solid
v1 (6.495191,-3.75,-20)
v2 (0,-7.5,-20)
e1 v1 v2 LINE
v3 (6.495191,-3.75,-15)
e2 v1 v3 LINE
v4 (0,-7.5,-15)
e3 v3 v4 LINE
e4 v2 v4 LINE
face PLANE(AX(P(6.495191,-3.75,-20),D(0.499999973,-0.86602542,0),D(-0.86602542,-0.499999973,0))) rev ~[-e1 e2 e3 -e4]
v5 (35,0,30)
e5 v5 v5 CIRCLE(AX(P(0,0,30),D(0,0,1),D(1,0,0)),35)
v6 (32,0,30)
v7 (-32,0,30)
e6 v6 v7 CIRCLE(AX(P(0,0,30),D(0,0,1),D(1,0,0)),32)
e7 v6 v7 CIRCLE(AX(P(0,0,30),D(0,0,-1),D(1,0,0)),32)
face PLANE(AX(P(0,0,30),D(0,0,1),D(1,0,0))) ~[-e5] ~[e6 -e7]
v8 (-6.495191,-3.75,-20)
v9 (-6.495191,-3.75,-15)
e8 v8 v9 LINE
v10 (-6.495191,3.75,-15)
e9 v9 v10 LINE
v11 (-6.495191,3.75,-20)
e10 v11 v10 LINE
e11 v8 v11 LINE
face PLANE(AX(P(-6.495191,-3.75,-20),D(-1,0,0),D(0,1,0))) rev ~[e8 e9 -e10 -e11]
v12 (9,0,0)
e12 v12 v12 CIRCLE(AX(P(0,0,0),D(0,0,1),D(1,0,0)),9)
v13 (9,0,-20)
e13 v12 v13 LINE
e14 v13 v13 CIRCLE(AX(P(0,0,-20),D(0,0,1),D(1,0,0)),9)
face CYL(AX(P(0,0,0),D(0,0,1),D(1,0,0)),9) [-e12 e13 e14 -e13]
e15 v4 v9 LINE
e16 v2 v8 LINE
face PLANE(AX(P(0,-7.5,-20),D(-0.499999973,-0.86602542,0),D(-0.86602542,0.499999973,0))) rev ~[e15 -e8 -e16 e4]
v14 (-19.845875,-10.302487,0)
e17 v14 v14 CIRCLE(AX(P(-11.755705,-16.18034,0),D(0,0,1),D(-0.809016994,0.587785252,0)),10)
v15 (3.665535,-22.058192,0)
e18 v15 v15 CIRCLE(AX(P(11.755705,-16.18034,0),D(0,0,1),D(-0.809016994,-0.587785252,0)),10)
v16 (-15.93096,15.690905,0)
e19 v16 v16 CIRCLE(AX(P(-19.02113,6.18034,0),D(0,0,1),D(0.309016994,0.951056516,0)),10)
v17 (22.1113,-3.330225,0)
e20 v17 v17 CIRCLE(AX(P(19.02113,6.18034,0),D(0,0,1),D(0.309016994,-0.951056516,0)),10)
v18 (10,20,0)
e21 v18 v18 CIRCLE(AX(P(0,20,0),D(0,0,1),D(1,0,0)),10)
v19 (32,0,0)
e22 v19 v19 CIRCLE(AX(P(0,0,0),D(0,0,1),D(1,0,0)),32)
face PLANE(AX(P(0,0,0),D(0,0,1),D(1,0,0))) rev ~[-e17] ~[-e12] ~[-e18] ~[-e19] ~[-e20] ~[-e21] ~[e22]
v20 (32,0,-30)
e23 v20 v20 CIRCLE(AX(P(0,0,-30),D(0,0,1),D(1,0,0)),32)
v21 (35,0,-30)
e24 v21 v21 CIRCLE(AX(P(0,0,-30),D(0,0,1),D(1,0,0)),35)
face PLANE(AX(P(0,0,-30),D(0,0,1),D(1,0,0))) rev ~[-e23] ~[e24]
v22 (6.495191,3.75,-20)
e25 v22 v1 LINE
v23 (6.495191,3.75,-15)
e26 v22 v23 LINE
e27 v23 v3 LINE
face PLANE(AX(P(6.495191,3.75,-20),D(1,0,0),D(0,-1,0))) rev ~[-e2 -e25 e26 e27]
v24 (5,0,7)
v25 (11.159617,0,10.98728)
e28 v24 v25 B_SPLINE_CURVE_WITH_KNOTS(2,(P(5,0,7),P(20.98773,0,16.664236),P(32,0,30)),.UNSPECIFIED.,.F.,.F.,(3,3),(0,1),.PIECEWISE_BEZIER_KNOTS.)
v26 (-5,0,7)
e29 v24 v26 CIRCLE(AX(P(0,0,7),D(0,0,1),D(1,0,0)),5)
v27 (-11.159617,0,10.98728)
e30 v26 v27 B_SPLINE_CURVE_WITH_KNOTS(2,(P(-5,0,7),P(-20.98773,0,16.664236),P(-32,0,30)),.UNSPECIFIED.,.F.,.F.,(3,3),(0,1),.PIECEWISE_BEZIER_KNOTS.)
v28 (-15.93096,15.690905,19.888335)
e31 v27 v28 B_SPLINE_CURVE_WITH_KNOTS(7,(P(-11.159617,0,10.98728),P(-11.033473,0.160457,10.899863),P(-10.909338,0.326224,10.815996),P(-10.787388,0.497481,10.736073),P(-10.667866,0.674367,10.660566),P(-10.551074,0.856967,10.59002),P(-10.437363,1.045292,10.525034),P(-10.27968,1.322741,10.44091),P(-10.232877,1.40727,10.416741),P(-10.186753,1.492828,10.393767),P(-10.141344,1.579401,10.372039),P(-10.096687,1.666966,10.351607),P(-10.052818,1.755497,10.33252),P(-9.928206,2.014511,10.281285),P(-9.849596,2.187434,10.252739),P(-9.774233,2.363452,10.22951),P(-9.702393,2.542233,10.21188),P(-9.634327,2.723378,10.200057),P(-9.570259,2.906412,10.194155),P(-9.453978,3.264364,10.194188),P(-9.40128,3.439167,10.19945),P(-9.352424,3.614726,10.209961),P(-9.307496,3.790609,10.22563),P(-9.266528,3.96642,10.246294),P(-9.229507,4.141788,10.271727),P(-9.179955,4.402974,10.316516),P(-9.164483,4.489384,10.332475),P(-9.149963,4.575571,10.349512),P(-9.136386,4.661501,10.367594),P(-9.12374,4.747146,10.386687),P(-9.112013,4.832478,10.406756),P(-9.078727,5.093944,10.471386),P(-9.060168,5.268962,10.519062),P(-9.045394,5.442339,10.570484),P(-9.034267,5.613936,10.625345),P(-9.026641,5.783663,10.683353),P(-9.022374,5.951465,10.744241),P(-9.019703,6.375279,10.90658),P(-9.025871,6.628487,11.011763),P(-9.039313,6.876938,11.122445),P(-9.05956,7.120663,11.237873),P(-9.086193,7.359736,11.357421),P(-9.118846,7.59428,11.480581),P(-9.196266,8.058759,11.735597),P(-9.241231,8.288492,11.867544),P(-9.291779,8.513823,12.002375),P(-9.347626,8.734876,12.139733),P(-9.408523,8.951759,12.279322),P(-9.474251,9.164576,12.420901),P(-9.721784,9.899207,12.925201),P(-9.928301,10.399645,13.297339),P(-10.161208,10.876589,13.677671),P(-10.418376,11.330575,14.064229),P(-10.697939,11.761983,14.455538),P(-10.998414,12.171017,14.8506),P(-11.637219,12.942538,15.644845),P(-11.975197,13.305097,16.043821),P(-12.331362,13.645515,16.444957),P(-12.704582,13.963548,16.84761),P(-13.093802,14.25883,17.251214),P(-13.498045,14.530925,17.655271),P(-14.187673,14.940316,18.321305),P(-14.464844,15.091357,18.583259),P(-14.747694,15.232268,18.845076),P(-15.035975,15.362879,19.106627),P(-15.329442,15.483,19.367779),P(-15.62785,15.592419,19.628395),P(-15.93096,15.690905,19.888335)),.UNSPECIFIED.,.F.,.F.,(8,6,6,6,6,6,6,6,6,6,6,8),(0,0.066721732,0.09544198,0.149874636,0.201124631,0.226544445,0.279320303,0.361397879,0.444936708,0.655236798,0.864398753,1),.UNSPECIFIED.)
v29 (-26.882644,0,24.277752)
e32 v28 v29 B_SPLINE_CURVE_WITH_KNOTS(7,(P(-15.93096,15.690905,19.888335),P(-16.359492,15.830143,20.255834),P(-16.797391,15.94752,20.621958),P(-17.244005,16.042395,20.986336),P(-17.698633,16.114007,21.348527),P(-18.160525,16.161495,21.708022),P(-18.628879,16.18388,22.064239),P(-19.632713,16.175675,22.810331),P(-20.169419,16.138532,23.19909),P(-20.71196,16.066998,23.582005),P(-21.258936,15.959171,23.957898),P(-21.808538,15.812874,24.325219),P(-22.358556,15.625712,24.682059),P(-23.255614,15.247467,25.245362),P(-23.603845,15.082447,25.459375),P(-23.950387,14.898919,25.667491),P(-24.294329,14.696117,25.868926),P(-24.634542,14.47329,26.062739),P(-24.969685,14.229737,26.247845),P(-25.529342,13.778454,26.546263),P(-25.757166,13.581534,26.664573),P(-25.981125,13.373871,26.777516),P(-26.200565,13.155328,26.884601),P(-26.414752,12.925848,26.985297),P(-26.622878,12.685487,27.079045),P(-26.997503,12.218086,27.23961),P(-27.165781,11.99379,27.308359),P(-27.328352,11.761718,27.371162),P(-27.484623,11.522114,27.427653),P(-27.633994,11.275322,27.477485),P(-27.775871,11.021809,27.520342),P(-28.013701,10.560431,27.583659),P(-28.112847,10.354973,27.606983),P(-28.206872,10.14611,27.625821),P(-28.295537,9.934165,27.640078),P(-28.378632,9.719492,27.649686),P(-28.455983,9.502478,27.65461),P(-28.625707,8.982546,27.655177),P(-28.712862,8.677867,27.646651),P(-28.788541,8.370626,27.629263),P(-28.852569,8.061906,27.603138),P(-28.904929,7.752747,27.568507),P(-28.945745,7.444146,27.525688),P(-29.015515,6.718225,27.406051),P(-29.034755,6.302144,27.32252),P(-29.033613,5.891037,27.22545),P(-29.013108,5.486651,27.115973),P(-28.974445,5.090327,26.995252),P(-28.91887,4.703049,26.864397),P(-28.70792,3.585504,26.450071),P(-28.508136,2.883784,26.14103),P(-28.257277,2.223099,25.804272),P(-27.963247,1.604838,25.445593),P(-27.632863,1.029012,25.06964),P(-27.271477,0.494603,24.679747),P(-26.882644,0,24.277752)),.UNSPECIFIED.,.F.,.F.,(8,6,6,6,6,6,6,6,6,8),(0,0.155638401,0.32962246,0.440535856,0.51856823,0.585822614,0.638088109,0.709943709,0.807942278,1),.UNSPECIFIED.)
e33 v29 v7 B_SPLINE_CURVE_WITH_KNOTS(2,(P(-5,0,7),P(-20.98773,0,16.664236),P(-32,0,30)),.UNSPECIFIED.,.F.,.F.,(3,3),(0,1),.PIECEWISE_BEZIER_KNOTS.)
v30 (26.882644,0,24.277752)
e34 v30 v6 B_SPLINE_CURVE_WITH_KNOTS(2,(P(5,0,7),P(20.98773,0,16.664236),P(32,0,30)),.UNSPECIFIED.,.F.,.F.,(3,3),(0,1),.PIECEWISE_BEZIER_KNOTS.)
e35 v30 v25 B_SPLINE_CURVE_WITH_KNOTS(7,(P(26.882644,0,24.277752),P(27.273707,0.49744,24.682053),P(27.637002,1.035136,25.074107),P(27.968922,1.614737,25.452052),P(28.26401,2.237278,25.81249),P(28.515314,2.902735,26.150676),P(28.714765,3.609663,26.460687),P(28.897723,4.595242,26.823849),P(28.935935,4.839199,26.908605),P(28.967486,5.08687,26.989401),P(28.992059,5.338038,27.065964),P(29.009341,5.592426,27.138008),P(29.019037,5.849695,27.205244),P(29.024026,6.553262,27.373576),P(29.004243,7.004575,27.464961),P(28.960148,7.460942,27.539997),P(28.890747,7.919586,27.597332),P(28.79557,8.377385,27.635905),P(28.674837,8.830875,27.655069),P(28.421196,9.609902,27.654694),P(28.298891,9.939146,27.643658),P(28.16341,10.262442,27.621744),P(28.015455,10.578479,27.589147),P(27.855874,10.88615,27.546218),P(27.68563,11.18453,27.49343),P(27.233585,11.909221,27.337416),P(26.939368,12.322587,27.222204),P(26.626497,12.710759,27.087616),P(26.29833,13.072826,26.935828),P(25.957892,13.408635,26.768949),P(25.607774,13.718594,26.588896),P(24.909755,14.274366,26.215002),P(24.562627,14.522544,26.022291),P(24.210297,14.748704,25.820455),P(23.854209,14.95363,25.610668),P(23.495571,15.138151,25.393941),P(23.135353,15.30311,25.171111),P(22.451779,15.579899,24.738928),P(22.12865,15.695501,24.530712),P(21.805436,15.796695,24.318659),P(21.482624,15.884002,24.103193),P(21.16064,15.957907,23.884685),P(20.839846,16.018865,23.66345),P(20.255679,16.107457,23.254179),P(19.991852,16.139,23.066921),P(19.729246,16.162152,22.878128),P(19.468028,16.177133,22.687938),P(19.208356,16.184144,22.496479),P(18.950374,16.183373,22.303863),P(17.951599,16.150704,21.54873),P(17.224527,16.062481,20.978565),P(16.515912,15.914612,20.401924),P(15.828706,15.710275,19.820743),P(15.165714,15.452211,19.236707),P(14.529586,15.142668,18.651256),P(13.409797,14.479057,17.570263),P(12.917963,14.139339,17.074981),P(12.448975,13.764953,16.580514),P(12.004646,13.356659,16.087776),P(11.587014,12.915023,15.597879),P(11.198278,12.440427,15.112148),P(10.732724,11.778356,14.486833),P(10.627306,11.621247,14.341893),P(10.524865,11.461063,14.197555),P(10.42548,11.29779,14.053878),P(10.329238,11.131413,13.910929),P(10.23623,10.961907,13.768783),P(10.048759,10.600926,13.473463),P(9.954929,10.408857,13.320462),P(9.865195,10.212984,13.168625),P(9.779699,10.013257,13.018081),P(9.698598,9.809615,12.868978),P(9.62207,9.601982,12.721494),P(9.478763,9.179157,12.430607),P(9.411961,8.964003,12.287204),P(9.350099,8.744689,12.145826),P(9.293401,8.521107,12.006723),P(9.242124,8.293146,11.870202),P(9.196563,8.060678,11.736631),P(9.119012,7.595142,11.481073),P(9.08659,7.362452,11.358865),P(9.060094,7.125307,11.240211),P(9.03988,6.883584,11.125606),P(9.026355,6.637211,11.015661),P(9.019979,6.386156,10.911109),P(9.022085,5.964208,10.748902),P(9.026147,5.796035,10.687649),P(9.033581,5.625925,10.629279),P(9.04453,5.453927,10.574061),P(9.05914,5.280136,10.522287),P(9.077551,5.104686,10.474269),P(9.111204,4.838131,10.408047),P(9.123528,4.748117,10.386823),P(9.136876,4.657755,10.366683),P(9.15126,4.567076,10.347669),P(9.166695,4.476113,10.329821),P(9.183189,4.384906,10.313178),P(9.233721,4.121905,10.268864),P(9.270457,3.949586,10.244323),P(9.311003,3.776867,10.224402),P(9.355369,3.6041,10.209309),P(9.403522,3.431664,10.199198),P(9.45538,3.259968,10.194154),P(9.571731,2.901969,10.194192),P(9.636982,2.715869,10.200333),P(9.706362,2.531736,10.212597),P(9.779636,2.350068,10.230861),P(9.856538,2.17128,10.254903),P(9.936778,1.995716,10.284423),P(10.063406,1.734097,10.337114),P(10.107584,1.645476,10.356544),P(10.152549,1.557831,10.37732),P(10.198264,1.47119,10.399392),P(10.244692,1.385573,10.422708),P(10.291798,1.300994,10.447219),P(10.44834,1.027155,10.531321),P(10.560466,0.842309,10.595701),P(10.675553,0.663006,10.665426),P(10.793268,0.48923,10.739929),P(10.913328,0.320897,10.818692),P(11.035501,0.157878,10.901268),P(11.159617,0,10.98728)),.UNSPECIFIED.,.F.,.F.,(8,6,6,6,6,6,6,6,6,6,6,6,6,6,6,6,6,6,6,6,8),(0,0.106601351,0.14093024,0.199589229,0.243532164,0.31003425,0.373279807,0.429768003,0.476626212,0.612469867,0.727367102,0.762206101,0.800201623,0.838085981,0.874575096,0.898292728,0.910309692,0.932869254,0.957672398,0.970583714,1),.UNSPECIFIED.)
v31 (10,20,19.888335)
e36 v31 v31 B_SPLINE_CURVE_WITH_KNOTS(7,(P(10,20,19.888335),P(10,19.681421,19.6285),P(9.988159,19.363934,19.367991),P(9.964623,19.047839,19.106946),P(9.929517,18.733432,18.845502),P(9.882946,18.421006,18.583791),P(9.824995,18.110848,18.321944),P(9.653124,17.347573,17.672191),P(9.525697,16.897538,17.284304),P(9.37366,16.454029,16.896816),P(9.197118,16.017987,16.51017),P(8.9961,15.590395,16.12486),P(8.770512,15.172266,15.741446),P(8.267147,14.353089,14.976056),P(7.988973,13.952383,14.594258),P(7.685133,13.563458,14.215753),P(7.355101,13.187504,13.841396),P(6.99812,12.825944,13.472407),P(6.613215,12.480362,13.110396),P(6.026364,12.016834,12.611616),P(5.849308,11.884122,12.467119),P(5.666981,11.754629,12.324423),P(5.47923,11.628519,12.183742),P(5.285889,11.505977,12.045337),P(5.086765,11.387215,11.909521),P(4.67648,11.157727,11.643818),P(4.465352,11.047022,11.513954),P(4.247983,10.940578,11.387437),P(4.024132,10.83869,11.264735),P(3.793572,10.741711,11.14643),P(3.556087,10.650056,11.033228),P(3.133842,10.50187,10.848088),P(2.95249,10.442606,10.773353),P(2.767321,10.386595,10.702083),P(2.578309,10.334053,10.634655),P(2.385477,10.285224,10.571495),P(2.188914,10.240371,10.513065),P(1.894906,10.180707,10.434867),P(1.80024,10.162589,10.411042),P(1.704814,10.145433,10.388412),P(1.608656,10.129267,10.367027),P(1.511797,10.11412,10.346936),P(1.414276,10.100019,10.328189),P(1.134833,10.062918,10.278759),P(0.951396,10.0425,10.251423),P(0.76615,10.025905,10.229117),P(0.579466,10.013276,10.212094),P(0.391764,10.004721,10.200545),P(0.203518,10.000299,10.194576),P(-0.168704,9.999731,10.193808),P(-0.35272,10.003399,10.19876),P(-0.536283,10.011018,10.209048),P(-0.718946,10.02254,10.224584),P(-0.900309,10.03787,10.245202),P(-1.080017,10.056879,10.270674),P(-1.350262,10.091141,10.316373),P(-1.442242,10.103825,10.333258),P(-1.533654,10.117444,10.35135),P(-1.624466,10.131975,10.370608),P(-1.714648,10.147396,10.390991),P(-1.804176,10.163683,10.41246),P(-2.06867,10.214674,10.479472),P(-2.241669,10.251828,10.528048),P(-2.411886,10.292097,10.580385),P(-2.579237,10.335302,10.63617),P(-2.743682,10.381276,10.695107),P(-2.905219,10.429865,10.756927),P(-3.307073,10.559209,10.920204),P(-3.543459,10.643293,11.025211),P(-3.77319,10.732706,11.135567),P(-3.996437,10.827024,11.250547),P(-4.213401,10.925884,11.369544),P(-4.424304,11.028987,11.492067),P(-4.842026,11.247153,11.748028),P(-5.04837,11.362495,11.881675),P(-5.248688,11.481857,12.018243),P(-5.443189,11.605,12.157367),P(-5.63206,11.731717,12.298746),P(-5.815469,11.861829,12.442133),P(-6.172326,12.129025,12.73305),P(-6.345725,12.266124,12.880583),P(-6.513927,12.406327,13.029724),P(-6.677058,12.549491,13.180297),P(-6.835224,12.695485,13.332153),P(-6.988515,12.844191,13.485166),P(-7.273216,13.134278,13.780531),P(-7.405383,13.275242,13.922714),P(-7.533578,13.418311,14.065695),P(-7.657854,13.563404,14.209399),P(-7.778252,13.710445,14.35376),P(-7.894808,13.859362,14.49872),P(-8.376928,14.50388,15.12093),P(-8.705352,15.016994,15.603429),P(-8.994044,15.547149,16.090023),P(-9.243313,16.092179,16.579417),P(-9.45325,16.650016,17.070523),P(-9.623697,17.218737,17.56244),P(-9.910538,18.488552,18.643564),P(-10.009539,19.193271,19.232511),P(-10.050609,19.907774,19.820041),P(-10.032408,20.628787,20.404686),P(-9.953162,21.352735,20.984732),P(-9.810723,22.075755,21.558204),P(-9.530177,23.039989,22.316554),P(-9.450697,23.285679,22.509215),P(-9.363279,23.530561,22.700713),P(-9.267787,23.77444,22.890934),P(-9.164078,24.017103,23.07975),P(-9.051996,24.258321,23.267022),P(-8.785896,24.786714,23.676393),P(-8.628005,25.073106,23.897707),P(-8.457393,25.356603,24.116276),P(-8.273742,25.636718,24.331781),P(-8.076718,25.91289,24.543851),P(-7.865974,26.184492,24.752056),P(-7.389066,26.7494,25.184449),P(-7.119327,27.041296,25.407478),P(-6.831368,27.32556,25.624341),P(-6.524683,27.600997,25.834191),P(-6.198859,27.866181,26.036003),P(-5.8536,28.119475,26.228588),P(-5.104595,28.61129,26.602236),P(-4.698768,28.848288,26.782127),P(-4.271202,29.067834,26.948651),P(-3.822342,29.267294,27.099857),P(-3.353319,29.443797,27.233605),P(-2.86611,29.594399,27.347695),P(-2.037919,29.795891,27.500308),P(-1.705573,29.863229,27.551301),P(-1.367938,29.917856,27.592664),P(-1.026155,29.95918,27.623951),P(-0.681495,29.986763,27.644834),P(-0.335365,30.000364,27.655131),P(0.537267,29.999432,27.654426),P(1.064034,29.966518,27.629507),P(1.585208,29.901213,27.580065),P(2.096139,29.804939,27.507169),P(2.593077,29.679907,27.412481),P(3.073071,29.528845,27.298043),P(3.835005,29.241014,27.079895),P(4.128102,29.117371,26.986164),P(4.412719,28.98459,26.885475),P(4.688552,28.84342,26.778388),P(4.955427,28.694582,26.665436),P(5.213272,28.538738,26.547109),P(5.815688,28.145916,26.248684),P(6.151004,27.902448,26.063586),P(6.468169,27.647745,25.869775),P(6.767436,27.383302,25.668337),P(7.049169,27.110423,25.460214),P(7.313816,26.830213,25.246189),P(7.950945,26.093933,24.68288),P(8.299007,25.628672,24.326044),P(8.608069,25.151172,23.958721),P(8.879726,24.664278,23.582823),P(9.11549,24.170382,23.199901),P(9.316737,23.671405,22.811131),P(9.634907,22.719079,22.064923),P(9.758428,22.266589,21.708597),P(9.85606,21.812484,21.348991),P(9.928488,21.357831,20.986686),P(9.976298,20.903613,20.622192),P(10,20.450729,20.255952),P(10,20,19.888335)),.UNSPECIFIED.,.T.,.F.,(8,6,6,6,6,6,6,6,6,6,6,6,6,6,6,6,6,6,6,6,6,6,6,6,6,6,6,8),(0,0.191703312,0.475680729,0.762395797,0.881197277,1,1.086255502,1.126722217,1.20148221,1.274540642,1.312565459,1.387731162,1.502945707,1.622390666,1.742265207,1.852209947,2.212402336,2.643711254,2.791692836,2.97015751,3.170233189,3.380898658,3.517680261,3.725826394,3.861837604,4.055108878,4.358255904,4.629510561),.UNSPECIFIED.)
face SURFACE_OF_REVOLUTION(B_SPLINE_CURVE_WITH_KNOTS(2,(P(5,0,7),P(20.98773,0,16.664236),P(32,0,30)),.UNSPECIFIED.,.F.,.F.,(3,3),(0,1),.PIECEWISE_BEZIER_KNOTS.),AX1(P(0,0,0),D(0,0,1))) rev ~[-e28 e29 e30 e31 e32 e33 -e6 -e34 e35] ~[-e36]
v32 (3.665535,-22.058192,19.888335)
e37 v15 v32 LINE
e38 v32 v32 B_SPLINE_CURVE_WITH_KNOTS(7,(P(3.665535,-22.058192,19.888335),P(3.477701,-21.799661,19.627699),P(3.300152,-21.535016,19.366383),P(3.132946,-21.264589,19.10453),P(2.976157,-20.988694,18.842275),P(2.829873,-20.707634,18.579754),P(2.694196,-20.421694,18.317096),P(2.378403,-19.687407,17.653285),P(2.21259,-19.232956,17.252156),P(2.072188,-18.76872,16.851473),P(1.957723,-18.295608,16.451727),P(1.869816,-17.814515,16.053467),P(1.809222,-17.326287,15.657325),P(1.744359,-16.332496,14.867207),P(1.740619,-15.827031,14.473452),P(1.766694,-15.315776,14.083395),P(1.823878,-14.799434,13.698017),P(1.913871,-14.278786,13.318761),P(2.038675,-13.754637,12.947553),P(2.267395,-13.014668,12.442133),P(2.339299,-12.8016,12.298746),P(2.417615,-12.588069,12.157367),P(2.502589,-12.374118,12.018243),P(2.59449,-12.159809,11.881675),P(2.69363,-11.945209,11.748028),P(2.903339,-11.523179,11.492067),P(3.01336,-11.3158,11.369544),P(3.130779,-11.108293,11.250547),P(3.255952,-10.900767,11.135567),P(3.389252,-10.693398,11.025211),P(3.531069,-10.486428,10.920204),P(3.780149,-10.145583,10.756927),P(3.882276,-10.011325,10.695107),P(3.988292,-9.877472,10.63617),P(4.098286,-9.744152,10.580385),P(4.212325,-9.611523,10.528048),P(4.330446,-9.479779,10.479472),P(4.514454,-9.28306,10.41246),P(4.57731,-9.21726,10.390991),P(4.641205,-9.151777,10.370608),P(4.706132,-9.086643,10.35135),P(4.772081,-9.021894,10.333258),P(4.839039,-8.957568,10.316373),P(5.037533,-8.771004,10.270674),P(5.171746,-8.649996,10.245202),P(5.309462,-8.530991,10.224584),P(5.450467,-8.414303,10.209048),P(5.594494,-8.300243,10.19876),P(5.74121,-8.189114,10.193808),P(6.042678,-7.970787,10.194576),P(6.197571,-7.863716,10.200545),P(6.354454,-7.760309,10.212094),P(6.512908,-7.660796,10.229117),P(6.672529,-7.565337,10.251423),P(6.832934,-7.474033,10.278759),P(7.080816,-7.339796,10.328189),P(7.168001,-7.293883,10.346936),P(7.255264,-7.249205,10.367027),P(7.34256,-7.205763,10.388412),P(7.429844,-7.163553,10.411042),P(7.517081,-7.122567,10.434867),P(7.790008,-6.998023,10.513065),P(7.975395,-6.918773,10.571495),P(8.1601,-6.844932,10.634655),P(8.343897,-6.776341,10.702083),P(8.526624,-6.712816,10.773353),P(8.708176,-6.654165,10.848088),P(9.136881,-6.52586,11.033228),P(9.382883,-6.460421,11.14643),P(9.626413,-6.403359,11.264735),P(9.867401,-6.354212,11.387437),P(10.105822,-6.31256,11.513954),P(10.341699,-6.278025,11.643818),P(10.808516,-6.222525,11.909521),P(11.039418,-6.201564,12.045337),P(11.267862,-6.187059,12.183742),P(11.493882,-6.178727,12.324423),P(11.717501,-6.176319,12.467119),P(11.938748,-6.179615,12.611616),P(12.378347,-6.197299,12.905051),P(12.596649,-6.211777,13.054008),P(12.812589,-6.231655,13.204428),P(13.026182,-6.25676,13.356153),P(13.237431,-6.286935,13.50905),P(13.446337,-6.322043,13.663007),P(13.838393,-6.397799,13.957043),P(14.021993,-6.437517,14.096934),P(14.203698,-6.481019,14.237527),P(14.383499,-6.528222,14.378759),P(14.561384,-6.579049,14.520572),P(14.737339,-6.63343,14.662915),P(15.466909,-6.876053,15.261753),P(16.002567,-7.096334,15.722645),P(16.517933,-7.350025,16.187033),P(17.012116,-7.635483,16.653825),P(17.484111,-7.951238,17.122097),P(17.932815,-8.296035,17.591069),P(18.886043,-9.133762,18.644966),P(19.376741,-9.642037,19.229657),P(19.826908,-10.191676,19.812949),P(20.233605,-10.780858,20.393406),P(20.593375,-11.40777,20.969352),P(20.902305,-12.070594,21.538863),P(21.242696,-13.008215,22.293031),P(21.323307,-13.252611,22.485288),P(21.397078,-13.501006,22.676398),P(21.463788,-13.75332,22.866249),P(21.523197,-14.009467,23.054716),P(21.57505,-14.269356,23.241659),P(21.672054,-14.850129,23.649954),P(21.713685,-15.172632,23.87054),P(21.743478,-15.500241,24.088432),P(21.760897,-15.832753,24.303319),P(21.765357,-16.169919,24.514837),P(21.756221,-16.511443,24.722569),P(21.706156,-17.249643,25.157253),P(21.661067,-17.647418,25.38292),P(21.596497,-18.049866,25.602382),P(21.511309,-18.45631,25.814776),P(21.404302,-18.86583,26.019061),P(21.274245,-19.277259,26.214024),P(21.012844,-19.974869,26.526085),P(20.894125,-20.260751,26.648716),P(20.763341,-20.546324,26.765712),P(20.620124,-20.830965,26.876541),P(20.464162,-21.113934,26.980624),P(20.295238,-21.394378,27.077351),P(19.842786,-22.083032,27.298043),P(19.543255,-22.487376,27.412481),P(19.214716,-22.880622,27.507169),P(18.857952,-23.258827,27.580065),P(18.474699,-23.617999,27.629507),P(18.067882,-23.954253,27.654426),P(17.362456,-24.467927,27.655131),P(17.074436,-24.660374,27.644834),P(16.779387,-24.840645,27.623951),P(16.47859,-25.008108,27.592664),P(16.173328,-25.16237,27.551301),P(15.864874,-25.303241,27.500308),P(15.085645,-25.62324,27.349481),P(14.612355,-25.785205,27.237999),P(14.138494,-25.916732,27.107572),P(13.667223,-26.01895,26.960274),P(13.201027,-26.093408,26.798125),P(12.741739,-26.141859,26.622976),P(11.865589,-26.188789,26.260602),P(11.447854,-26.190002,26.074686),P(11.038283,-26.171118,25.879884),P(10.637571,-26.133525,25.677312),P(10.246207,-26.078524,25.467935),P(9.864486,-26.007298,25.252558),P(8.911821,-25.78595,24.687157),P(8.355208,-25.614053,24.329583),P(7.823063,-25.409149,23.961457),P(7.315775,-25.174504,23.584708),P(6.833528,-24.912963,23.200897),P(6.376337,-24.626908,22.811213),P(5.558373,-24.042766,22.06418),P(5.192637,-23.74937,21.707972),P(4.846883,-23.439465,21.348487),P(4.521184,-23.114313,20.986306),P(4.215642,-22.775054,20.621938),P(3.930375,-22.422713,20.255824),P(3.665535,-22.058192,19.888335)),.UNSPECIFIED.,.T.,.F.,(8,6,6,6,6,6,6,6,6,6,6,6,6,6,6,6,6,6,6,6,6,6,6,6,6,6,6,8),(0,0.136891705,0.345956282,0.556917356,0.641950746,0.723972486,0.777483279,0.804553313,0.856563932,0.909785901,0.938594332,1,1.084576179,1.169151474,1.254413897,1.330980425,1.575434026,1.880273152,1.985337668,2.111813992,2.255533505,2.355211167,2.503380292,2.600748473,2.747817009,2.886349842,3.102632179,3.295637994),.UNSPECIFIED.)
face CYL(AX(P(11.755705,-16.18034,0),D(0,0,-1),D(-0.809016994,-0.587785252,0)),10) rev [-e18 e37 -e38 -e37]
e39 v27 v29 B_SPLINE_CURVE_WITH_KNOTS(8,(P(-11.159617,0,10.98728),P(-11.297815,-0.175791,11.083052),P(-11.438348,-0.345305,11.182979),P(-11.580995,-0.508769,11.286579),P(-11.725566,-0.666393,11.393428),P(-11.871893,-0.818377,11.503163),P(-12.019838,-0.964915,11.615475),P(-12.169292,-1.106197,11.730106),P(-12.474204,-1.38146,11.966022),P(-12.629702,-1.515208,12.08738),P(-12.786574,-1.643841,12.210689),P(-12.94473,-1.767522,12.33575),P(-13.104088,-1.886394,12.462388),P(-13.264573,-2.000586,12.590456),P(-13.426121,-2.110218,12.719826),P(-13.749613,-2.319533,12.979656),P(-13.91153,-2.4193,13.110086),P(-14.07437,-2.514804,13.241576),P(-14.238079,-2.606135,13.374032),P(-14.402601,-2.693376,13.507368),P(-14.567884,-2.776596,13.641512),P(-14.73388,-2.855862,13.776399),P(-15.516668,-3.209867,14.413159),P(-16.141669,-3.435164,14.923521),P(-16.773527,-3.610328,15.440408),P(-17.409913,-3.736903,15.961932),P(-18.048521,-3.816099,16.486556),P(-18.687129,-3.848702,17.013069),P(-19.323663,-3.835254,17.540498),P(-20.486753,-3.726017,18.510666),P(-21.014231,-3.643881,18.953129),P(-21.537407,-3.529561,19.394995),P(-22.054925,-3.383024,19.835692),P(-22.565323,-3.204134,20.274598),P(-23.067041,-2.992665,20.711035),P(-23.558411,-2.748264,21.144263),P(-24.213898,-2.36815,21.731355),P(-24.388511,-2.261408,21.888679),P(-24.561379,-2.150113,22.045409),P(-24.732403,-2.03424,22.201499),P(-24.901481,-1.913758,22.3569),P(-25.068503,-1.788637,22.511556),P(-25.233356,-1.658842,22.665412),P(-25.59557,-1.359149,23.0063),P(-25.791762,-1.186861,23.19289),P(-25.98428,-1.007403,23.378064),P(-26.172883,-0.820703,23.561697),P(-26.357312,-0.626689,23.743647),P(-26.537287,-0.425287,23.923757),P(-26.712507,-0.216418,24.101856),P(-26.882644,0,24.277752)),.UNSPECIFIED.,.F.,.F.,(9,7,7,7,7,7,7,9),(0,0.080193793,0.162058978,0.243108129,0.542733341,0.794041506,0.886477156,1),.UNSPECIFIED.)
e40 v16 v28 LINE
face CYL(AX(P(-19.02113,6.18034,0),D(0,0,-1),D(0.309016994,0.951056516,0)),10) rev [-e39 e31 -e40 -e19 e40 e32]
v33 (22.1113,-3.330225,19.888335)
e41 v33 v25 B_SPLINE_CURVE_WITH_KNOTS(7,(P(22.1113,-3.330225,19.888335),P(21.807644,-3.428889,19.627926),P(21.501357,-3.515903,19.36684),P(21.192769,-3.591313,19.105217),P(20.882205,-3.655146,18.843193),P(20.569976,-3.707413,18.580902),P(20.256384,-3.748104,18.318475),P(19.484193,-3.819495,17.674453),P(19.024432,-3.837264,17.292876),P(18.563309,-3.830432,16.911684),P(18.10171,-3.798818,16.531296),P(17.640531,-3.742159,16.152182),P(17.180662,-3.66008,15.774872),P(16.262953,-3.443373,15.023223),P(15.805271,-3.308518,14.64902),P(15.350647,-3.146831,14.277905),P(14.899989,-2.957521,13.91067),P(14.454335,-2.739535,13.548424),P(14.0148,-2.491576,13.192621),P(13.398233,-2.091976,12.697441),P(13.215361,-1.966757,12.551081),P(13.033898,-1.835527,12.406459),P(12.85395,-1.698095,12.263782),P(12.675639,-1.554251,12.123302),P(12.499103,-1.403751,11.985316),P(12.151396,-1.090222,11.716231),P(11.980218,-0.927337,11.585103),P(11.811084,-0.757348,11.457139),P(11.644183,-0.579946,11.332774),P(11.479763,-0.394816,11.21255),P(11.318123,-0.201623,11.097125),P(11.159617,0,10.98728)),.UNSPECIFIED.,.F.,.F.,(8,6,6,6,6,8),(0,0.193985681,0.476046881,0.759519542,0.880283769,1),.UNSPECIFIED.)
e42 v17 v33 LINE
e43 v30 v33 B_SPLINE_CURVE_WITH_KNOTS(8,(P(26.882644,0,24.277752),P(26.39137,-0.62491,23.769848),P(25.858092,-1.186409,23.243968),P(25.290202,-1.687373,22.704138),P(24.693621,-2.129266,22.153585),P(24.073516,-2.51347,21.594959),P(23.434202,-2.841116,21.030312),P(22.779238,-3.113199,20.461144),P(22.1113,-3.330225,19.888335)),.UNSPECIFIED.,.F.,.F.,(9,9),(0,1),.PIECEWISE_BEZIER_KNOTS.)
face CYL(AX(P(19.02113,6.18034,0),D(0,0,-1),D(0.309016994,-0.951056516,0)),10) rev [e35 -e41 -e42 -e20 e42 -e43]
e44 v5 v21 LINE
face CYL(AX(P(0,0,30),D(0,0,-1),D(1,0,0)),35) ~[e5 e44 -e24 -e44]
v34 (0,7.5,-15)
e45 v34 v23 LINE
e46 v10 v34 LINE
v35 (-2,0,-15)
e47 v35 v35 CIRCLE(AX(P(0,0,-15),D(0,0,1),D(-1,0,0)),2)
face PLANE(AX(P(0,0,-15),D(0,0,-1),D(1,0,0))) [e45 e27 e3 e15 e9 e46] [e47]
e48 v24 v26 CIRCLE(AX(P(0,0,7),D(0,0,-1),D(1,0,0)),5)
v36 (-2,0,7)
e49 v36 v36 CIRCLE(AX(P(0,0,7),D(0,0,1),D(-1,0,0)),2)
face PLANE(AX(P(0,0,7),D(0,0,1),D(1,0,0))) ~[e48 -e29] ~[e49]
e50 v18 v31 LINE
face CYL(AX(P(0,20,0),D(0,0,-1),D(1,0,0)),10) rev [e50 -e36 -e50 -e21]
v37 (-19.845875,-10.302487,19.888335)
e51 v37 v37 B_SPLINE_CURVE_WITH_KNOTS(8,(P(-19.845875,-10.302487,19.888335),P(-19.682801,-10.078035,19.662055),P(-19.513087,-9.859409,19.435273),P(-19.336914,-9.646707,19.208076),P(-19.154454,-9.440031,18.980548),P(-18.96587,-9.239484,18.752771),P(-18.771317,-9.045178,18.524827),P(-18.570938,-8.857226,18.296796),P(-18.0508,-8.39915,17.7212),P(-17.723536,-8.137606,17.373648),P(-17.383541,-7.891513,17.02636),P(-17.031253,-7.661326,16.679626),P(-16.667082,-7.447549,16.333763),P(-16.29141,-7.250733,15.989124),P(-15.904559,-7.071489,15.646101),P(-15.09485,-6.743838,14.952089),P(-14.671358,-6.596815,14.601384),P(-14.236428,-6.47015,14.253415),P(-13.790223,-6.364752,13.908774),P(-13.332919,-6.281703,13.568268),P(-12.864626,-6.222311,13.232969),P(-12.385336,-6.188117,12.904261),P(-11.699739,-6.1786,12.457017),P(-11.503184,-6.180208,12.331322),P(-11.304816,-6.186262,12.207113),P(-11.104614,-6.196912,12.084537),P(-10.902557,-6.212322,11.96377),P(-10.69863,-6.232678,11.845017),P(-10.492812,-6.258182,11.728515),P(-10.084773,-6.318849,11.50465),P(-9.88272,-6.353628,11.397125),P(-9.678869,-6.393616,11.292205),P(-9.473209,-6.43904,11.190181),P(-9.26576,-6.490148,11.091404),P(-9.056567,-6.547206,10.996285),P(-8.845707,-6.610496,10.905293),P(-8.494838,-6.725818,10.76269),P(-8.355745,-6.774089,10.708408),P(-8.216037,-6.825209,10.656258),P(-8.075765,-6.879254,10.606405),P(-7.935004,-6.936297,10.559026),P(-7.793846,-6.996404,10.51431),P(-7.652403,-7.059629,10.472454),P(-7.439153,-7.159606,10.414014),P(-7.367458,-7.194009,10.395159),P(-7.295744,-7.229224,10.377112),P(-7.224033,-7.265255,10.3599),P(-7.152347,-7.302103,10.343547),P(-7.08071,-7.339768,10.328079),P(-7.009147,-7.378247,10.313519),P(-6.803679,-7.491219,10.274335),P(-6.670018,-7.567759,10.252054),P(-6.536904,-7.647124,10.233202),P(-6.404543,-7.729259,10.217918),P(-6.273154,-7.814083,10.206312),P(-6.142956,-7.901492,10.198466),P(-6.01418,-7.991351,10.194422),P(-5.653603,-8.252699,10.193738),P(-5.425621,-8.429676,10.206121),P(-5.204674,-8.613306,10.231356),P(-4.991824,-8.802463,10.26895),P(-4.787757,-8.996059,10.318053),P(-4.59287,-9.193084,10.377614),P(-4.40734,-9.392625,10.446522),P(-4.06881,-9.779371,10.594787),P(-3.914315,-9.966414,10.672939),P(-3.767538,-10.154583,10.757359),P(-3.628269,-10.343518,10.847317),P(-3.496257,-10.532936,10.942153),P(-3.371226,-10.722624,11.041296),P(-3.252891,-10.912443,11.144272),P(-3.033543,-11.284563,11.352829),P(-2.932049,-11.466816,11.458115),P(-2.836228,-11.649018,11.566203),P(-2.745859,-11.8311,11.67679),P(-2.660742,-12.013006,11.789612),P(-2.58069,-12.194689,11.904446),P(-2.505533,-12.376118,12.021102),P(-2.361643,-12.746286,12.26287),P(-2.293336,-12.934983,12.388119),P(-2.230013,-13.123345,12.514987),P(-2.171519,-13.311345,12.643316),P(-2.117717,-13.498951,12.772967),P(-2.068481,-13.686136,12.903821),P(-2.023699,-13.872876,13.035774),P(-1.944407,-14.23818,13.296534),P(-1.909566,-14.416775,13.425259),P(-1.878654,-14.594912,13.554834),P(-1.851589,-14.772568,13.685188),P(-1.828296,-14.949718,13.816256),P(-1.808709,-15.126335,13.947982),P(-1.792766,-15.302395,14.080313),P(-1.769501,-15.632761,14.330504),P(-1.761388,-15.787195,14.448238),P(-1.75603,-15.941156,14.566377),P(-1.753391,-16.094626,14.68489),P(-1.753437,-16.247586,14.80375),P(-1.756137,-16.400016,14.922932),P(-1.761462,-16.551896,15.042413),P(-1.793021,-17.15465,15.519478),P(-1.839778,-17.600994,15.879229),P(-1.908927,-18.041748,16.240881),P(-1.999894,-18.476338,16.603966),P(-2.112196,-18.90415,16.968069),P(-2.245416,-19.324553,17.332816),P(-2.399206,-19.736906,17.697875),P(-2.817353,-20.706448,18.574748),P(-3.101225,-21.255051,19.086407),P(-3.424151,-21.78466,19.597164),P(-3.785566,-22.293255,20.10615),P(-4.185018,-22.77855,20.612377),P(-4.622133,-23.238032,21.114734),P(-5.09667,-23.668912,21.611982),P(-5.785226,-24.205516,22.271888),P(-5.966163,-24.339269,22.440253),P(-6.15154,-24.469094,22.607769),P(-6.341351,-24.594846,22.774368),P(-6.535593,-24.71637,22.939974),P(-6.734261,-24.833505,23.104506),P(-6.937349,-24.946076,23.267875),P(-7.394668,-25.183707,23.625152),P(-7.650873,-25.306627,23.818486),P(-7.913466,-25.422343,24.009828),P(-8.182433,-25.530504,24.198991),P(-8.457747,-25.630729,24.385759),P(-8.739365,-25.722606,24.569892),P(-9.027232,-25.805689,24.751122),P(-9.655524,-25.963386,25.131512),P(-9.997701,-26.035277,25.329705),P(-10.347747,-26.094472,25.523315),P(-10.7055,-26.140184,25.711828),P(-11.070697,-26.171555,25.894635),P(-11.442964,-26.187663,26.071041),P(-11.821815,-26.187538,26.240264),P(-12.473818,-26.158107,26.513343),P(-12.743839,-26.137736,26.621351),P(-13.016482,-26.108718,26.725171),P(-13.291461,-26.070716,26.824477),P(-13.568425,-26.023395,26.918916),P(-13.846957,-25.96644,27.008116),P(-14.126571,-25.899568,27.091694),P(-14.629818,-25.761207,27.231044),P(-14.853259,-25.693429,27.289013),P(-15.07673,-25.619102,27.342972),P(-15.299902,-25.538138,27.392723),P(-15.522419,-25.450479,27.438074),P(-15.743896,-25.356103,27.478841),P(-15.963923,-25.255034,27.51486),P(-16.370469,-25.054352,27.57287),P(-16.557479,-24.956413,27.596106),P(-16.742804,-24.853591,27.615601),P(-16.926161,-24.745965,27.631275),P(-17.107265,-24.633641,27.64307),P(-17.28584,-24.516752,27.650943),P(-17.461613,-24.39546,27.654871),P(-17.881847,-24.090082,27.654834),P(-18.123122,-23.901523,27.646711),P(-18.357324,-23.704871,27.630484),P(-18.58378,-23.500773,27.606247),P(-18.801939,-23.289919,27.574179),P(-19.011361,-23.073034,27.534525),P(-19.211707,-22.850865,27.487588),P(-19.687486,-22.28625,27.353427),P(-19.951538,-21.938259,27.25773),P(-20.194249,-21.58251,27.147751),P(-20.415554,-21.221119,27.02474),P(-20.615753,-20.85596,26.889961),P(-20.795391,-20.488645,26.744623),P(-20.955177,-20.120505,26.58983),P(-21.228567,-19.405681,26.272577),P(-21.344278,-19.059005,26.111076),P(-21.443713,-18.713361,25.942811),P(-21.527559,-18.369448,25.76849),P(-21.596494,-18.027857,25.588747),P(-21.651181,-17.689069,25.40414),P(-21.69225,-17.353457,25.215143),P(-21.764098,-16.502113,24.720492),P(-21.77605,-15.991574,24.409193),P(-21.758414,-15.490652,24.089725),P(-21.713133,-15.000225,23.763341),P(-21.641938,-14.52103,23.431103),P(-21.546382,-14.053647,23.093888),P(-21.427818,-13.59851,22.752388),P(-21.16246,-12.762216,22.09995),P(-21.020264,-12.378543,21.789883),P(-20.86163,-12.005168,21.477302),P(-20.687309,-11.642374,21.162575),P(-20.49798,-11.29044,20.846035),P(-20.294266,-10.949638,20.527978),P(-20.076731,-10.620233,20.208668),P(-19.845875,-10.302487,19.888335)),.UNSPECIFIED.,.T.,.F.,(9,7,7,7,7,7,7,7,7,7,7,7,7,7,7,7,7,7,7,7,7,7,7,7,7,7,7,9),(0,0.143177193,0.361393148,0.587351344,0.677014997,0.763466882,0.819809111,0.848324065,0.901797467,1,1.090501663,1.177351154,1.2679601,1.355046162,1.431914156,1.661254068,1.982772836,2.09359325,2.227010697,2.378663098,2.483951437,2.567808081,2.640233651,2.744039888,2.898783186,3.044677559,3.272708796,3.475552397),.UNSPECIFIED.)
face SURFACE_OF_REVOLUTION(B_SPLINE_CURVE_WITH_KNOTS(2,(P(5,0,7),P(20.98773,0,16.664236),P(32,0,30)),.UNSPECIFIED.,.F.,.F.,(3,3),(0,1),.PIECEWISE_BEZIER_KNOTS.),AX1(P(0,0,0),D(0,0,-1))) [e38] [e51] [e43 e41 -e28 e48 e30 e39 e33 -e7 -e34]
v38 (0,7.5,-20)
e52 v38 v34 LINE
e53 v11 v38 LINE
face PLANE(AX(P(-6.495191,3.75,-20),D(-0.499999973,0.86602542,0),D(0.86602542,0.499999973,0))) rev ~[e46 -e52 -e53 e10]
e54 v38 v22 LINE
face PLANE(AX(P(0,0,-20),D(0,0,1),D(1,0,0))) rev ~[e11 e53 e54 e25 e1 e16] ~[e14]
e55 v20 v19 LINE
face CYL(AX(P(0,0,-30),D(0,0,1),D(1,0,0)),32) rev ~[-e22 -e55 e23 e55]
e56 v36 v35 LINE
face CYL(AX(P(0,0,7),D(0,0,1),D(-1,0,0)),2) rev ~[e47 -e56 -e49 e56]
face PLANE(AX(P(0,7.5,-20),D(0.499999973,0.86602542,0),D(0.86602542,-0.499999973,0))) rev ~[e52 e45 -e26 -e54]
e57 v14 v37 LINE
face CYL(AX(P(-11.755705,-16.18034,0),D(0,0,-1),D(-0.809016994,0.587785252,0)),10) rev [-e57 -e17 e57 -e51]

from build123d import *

# Parameters (mm, degrees)
REVOLUTION_ANGLE   = -360
SKETCH006_R        = 10
POCKET_DEPTH       = 261.517738
POLARPATTERN_COUNT = 5
SKETCH007_R        = 9
PAD_DEPTH          = 20
POCKET001_DEPTH    = 5
SKETCH009_R        = 2
POCKET002_DEPTH    = 37.001


with BuildPart() as part:
    # Sketch004 → Revolution (revolve, symmetric)
    with BuildSketch(Plane.XZ) as revolution_sk:
        with BuildLine():
            Line((0, 0), (0, 7))
            Line((0, 7), (5, 7))
            add(Edge.make_bspline(
                [(5, 7), (20.98773, 16.664236), (32, 30)],
                knots=[0, 0, 0, 1, 1, 1], degree=2))
            Line((32, 30), (35, 30))
            Line((35, 30), (35, -30))
            Line((35, -30), (32, -30))
            Line((32, -30), (32, 0))
            Line((32, 0), (0, 0))
        make_face()
    revolve(axis=Axis((0, 0, 0), (0, 0, 1)), revolution_arc=REVOLUTION_ANGLE / 2)
    revolve(revolution_sk.sketch, axis=Axis((0, 0, 0), (0, 0, -1)), revolution_arc=REVOLUTION_ANGLE / 2)

    # Sketch006 → Pocket (cut, through all)
    with BuildSketch(Plane.XY):
        with Locations((0, 20)):
            Circle(SKETCH006_R)
    pocket = extrude(amount=POCKET_DEPTH, mode=Mode.SUBTRACT)

    # PolarPattern: Pocket ×5 about axis
    polarpattern_axis = Axis((0, 0, 0), (0, 0, 1))
    for i in range(1, POLARPATTERN_COUNT):
        add(pocket.rotate(polarpattern_axis, i * 360 / POLARPATTERN_COUNT), mode=Mode.SUBTRACT)

    # Sketch007 → Pad (join)
    with BuildSketch(Plane.XY):
        Circle(SKETCH007_R)
    extrude(amount=-PAD_DEPTH)

    # Sketch008 (on Face14 of Pad) → Pocket001 (cut)
    with BuildSketch(Plane(origin=(0, 0, -20), x_dir=(1, 0, 0), z_dir=(0, 0, -1))):
        Polygon((6.495191, -3.75), (6.495191, 3.75), (0, 7.5), (-6.495191, 3.75), (-6.495191, -3.75), (0, -7.5), align=None)
    extrude(amount=-POCKET001_DEPTH, mode=Mode.SUBTRACT)

    # Sketch009 (on Face1 of Pocket001) → Pocket002 (cut, through all)
    with BuildSketch(Plane(origin=(0, 0, 7), x_dir=(-1, 0, 0), z_dir=(0, 0, 1))):
        Circle(SKETCH009_R)
    extrude(amount=-POCKET002_DEPTH, mode=Mode.SUBTRACT)


solid = part.part
